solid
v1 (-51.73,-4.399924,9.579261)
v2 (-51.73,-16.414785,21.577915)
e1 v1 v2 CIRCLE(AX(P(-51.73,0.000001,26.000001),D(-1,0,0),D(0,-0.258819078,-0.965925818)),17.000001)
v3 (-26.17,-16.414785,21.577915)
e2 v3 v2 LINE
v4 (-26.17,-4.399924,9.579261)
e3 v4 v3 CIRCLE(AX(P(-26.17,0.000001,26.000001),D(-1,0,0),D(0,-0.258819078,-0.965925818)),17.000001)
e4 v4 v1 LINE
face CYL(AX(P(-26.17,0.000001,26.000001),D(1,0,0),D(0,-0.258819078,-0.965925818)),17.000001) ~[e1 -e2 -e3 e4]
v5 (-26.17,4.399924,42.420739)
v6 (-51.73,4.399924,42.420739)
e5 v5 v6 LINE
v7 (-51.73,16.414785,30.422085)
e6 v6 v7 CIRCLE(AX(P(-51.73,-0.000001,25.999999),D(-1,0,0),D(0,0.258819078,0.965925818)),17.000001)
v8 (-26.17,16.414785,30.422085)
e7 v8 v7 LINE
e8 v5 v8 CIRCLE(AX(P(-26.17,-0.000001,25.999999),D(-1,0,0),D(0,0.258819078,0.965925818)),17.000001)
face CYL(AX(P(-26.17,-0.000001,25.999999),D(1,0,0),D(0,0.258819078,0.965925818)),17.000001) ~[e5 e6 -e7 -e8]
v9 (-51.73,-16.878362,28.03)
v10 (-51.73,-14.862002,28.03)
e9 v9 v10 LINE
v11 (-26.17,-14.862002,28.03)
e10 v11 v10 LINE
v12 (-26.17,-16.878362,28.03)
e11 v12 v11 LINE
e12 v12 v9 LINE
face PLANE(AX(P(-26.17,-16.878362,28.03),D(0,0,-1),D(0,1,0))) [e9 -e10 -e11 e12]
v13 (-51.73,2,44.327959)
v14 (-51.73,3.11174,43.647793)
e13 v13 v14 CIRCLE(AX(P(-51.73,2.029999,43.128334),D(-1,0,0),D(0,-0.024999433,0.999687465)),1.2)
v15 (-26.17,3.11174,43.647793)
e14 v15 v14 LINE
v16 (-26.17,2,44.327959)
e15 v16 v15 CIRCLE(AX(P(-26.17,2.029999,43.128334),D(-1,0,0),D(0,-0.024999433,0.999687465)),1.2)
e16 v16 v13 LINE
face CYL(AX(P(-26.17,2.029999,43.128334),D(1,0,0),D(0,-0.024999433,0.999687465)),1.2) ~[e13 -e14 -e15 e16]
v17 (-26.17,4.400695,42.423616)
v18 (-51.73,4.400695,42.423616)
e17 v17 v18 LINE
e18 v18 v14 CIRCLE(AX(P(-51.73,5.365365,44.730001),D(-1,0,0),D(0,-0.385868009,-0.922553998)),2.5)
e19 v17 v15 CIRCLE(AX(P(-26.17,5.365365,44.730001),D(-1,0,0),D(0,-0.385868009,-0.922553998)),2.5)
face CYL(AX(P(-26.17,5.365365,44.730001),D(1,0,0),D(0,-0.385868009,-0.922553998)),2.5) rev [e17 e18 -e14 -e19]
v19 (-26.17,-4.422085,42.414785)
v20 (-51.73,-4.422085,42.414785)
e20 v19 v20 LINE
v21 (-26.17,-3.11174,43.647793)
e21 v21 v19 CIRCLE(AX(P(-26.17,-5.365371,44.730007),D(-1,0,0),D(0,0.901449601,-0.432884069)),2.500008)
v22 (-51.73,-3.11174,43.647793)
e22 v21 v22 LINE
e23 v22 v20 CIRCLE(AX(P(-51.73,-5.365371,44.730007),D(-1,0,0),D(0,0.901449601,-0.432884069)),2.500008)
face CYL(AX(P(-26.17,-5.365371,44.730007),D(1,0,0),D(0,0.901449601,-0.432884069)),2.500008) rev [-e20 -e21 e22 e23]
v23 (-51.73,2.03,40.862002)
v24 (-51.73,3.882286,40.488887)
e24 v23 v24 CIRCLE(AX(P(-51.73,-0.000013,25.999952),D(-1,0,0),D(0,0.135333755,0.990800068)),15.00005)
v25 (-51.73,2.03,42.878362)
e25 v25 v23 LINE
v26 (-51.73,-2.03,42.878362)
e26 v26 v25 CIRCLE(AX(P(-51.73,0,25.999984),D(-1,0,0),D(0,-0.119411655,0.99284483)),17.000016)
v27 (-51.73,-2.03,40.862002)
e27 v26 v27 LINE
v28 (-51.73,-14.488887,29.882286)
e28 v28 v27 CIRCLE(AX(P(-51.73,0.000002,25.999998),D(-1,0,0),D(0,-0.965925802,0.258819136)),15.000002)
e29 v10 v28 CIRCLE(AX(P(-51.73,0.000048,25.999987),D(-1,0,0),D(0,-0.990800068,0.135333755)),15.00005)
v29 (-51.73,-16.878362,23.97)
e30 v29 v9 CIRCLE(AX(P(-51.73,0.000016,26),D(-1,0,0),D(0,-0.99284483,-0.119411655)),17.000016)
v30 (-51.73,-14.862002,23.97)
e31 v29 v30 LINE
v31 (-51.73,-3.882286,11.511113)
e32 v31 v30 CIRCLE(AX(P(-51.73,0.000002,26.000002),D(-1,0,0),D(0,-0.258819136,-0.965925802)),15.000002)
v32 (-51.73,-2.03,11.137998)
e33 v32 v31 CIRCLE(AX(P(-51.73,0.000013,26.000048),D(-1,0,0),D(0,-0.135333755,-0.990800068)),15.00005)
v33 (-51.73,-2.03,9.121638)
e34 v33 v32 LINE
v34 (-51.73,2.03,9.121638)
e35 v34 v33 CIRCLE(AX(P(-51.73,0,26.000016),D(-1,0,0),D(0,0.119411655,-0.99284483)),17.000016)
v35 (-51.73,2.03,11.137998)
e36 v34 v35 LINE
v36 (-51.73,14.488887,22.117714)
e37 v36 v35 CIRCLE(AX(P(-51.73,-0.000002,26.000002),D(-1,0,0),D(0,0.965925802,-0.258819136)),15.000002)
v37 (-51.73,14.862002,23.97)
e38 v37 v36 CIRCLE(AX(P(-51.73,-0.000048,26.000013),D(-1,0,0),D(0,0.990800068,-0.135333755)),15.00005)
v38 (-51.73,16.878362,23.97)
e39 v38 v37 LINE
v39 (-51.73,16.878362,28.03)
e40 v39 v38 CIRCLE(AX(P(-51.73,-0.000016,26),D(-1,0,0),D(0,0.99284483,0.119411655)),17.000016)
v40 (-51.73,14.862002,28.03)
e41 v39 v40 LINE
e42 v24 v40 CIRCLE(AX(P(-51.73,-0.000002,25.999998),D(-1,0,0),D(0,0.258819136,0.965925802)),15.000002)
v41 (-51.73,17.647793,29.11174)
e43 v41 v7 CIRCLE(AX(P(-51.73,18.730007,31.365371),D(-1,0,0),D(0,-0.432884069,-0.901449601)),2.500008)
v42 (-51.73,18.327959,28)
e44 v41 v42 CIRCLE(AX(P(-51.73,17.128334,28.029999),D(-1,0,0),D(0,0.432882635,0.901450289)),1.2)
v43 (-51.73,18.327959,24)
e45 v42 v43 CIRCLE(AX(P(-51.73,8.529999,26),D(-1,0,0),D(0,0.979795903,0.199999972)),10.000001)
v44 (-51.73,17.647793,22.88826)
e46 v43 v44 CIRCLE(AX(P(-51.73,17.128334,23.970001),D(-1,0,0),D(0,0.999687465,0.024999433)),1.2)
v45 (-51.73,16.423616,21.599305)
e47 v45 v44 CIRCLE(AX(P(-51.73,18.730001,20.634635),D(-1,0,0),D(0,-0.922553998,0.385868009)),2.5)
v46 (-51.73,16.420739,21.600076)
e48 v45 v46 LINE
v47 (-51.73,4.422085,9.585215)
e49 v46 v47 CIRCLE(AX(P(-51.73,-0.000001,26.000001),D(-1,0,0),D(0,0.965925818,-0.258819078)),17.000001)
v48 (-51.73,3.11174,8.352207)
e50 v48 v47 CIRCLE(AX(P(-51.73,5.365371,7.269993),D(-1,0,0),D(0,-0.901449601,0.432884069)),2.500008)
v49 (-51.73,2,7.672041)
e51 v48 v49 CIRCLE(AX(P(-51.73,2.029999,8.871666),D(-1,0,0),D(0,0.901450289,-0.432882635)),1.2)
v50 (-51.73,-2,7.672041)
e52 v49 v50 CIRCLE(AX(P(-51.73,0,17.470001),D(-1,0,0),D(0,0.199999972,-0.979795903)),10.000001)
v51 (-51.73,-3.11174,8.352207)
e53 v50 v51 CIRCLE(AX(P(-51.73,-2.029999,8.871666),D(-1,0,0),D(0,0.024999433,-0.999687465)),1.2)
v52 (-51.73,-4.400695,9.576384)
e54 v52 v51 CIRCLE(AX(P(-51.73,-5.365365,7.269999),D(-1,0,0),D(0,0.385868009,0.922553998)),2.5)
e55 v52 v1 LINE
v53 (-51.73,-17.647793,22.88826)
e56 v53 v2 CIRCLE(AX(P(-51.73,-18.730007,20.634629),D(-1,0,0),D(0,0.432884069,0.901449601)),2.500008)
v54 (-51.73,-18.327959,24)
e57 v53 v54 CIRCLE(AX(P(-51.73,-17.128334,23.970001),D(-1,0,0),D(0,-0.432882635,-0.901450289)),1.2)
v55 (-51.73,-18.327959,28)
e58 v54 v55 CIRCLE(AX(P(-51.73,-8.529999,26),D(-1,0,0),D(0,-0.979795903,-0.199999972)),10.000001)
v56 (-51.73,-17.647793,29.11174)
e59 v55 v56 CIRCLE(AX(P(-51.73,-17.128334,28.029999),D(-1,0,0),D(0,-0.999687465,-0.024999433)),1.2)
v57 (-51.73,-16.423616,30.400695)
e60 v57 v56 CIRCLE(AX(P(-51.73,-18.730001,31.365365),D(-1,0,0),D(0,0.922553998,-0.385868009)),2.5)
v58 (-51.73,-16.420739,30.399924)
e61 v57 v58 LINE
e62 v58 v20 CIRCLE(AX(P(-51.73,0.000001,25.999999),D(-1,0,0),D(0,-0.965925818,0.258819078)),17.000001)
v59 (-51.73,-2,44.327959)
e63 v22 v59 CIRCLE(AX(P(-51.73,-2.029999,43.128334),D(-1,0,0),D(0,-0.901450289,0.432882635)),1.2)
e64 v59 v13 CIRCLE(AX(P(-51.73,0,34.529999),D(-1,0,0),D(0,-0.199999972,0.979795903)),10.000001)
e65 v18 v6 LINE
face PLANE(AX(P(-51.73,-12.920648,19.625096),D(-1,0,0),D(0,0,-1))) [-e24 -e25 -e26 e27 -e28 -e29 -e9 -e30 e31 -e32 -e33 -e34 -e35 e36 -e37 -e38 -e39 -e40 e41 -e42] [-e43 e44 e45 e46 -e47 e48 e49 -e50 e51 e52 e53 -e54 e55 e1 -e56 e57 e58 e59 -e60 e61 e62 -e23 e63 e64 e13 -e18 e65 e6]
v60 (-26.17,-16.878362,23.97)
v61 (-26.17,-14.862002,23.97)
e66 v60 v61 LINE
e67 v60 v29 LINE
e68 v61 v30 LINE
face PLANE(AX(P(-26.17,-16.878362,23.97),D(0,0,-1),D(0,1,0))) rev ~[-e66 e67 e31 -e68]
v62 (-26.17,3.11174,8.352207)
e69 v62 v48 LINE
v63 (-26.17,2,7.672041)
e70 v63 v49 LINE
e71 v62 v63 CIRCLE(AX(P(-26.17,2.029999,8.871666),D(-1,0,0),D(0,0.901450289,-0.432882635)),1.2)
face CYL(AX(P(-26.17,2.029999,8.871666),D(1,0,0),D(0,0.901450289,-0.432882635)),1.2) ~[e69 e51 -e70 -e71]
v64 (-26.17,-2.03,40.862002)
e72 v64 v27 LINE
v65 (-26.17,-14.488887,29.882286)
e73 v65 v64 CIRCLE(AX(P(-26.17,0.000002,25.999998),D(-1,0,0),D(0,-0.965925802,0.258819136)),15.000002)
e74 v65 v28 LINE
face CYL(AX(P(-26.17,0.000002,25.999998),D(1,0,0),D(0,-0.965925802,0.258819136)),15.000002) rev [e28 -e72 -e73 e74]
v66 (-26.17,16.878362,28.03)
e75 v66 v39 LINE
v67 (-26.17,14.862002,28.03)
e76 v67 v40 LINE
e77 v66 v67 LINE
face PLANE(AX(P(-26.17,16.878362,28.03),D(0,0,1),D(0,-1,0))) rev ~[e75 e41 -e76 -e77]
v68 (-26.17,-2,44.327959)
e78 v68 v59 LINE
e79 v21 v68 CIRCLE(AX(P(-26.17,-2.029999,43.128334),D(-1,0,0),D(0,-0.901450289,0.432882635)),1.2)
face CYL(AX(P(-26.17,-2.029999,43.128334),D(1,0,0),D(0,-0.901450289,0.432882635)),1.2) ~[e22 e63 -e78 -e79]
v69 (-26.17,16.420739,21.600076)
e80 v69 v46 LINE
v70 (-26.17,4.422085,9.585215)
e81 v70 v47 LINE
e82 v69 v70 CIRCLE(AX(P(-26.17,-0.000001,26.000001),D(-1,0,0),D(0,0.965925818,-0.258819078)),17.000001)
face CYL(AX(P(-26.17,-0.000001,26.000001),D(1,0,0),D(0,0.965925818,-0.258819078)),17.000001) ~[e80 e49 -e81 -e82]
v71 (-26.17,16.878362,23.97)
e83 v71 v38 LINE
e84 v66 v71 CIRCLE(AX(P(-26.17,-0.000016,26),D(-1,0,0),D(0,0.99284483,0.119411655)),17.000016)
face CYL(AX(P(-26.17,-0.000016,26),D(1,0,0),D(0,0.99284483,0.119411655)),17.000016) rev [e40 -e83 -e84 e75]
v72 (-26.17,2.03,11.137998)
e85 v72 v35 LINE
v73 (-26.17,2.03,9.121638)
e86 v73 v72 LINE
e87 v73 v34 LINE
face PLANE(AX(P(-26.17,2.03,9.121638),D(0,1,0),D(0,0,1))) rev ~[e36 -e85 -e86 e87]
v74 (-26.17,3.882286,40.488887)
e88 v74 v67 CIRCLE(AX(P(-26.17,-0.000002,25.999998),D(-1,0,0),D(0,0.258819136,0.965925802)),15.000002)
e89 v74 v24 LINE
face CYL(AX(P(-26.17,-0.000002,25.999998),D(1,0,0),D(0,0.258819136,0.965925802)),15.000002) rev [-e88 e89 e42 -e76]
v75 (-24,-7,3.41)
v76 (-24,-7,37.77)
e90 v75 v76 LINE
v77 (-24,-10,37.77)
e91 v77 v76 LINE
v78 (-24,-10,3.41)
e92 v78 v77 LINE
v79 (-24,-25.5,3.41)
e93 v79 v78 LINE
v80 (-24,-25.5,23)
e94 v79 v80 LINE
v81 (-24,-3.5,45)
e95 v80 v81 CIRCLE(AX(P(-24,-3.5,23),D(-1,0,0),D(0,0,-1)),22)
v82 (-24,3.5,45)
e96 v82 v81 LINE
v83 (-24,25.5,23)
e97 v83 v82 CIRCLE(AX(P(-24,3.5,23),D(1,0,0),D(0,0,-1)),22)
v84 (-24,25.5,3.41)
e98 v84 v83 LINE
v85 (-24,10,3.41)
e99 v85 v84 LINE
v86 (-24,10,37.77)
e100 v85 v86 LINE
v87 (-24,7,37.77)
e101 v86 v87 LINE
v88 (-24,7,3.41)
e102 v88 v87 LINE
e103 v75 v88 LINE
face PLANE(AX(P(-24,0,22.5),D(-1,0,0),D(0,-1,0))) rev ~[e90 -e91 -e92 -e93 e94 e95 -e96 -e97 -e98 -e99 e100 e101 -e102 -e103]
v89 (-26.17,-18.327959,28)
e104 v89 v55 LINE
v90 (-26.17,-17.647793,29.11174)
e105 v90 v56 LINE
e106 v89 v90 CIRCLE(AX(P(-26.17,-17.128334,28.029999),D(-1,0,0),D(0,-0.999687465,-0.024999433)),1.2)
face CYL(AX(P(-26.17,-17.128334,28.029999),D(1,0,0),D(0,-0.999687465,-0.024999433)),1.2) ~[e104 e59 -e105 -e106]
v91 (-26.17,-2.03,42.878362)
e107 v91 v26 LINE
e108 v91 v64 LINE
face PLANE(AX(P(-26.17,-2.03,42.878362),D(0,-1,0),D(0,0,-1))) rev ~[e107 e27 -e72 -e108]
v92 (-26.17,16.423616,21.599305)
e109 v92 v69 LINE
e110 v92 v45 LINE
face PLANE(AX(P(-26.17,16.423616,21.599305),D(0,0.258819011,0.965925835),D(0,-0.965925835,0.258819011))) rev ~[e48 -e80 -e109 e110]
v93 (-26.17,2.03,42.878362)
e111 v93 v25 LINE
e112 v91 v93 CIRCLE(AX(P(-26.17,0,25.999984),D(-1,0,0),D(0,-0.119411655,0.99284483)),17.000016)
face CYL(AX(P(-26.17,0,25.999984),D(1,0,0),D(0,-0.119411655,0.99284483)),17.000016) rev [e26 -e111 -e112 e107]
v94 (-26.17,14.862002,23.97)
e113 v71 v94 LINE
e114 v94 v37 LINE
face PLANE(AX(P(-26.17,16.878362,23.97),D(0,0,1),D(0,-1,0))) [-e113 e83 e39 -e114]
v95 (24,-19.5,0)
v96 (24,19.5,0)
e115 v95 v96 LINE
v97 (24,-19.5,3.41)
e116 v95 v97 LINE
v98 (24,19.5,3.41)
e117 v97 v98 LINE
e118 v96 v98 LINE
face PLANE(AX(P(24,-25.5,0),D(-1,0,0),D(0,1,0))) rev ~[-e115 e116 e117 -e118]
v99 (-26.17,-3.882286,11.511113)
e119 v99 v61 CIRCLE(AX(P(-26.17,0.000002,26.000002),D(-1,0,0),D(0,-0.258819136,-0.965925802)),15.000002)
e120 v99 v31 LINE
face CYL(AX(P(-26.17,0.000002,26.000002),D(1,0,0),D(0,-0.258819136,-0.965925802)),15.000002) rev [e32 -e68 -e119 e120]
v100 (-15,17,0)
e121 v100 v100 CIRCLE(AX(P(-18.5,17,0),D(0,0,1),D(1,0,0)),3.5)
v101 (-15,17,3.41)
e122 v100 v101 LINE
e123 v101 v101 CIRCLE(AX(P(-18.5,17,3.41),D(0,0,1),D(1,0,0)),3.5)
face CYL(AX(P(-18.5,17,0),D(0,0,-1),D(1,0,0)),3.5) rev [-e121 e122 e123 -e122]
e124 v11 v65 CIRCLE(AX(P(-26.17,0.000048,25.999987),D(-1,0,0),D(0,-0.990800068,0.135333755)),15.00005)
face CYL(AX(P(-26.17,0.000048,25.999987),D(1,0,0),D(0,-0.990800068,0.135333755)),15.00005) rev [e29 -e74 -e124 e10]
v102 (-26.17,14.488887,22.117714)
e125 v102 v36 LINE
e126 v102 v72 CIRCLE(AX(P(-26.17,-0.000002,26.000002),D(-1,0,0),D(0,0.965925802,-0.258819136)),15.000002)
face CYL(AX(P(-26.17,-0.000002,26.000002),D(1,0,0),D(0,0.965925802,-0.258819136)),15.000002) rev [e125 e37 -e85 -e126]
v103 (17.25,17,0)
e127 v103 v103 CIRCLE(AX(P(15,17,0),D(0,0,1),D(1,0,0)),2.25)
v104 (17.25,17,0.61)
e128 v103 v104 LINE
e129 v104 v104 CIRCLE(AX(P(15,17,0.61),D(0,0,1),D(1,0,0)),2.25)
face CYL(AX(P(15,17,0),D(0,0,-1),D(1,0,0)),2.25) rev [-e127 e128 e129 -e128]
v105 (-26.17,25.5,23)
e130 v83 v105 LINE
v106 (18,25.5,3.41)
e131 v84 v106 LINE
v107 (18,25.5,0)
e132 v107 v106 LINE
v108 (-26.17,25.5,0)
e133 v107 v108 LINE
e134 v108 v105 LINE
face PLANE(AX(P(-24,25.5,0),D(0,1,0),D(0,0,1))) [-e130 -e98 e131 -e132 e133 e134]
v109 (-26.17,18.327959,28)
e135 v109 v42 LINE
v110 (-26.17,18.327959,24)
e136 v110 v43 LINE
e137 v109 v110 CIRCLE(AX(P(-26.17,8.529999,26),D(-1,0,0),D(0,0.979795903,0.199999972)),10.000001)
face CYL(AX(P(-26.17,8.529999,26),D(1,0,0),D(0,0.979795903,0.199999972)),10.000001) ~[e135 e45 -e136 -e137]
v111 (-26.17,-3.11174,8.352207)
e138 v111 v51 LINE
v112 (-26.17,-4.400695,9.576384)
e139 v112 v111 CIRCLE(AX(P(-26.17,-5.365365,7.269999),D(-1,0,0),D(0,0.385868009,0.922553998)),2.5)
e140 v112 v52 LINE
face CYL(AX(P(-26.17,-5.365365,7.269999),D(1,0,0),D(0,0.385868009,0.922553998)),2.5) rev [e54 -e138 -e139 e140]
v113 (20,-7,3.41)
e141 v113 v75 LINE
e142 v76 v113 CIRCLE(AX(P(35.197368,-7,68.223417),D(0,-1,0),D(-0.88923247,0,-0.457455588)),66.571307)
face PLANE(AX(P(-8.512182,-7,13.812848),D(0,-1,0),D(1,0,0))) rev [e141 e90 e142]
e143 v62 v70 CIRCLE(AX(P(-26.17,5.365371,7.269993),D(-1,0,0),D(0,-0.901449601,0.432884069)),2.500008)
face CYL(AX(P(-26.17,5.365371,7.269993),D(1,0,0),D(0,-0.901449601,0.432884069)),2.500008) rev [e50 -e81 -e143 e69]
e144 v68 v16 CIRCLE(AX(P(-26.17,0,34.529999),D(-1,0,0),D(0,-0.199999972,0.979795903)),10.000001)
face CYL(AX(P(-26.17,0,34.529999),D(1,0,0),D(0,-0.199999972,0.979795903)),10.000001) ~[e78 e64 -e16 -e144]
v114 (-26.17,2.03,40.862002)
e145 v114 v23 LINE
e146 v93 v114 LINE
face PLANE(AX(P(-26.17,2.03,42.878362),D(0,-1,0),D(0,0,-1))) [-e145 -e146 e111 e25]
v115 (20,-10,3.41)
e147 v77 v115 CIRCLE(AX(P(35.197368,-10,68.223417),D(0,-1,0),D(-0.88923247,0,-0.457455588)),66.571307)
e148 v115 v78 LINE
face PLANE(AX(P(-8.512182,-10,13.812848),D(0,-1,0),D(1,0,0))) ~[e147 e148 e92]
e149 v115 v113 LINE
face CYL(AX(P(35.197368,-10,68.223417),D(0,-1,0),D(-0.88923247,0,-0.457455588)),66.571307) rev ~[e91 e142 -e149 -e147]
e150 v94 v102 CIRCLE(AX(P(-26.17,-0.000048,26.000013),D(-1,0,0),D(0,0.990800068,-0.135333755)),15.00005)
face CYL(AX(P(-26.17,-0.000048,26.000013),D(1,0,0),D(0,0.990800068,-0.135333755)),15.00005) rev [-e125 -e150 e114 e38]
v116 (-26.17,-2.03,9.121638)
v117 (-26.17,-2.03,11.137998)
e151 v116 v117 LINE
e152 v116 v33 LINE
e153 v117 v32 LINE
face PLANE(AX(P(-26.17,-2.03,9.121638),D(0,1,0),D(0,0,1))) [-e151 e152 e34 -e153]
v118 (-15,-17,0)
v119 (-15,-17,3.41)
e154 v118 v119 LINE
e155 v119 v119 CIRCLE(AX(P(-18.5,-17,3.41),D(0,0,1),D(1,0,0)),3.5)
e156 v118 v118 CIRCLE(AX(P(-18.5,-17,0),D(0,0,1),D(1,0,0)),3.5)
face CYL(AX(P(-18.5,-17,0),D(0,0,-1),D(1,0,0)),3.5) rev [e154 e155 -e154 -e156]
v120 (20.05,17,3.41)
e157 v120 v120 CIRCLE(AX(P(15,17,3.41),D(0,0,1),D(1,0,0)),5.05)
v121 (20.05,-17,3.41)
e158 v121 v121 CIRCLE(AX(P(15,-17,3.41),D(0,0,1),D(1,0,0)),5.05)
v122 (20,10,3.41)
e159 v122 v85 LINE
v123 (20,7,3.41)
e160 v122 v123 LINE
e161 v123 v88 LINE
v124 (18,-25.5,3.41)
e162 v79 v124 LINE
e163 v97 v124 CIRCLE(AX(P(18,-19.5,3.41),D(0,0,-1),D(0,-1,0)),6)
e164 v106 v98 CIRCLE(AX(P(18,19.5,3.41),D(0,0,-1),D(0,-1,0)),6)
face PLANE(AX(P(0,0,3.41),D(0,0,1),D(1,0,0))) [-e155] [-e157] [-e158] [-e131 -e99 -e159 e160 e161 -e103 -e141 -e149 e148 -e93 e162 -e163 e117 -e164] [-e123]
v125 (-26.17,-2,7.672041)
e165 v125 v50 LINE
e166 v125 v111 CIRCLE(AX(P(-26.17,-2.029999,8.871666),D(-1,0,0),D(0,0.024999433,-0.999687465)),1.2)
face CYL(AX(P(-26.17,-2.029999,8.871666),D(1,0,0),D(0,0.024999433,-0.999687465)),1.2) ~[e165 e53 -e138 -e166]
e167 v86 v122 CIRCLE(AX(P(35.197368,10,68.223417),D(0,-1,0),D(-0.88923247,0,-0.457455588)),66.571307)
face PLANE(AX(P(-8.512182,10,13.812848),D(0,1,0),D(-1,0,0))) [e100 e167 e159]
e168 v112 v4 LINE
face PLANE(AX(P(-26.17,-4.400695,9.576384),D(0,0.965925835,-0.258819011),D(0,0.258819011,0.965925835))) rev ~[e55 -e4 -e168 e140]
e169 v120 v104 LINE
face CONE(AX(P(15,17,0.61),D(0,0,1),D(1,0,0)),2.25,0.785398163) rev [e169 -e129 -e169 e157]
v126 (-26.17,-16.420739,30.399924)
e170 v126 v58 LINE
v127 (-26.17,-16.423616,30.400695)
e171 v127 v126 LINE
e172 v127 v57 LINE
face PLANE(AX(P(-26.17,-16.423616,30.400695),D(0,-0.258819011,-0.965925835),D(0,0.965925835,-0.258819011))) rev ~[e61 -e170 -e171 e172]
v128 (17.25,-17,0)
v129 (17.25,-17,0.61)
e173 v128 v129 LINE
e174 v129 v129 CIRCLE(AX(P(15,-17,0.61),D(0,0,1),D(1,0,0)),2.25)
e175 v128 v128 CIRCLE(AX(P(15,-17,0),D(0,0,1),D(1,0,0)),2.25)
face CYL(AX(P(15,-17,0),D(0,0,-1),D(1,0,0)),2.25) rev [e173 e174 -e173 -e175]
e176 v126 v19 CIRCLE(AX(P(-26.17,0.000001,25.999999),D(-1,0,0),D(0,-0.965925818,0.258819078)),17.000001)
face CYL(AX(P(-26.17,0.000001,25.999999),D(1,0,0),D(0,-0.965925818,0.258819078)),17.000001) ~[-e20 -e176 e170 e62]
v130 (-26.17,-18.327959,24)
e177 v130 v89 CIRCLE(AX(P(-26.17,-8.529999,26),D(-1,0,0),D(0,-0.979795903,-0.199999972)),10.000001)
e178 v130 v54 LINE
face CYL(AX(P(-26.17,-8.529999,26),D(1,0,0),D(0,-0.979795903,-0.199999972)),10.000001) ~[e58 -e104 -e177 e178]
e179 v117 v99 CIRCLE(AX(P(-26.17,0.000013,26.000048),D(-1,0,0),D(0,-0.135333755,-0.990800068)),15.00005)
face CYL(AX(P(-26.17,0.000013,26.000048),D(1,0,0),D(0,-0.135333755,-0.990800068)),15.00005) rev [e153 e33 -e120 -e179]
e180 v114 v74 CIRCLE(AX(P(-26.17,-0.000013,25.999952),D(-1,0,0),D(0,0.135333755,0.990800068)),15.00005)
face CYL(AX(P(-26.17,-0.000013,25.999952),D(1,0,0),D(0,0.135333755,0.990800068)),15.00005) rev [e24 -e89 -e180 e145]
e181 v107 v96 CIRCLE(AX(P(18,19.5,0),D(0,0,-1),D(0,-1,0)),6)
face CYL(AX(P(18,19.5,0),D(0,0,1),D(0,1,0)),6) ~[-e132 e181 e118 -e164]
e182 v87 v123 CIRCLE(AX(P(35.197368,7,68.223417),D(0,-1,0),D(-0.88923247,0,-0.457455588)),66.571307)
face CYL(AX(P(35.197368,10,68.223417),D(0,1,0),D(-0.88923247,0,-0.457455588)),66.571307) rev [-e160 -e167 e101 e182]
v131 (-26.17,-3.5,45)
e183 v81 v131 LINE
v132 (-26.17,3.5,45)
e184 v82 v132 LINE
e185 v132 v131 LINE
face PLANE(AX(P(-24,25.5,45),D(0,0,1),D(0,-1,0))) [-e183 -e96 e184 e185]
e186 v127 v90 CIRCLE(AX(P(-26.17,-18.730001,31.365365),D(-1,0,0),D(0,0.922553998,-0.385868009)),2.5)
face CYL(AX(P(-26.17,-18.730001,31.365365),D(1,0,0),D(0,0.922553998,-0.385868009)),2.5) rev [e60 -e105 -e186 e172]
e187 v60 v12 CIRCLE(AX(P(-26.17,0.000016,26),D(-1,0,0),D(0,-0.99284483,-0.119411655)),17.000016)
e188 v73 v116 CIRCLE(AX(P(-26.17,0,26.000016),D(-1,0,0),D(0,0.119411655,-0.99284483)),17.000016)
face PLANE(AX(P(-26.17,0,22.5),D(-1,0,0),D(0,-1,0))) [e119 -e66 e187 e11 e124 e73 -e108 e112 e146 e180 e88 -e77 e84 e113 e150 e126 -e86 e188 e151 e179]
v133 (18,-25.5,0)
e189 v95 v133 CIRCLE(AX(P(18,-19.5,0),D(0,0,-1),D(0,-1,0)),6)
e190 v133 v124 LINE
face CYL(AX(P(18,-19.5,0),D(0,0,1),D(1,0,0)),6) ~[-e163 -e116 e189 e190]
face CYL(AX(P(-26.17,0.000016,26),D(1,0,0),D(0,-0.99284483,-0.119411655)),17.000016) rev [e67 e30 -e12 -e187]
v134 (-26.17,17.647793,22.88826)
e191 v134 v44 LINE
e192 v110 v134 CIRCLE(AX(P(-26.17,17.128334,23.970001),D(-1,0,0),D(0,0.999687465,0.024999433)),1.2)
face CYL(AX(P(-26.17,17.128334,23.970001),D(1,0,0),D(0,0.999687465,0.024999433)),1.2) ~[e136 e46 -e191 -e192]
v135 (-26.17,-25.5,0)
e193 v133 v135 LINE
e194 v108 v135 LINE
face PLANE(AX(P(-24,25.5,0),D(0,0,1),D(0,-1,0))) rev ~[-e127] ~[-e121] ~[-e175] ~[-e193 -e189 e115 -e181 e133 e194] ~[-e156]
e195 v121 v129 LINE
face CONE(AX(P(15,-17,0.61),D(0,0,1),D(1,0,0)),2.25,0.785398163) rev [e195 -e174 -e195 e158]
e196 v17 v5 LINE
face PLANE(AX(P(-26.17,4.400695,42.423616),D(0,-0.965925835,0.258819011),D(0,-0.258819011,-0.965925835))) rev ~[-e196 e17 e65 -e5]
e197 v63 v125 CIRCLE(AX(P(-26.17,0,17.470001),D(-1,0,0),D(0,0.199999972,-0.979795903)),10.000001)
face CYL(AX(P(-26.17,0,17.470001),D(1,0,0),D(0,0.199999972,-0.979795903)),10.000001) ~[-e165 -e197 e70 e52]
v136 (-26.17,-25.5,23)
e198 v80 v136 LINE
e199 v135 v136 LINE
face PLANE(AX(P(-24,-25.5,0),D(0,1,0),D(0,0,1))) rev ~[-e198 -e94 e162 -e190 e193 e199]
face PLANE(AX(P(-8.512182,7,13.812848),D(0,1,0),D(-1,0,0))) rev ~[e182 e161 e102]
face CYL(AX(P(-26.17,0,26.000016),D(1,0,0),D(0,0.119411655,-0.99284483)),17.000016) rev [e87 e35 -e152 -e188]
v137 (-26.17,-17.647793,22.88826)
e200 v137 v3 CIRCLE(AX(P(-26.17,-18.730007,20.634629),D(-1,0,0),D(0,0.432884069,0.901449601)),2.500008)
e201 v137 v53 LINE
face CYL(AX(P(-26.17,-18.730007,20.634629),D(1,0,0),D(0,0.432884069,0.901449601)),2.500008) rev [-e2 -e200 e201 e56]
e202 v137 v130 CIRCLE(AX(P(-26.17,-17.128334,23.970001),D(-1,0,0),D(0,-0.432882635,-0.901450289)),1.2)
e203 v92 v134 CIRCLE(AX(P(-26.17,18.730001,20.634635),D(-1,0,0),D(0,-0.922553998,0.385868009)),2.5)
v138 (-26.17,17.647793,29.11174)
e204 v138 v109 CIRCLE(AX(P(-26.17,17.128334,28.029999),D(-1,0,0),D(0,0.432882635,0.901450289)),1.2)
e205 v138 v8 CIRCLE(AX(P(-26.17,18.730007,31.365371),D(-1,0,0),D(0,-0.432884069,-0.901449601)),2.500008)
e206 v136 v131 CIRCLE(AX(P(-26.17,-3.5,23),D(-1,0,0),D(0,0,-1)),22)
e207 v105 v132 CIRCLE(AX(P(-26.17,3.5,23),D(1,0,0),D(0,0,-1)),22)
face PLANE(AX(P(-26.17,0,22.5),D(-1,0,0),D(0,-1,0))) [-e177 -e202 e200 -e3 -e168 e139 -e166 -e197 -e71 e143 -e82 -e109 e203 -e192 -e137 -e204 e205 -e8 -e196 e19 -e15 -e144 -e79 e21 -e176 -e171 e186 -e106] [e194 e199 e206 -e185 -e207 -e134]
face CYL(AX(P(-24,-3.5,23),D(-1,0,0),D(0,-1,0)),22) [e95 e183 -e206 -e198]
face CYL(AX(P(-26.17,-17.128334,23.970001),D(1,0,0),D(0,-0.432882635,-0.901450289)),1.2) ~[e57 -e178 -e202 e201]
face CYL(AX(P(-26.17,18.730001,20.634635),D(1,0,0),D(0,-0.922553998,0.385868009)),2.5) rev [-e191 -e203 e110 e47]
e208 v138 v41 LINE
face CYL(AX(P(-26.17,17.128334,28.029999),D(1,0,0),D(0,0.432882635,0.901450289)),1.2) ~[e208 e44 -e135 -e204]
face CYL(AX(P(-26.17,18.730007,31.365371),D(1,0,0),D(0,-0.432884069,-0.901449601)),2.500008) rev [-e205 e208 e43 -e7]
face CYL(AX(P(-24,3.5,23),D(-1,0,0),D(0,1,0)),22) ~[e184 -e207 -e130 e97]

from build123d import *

# Parameters (mm, degrees)
SKETCH001_W        = 48
SKETCH001_H        = 51
SKETCH001_R        = 3.5
SKETCH001_R_2      = 2.25
PAD_DEPTH          = 3.41
SKETCH002_W        = 51
SKETCH002_H        = 45
PAD001_DEPTH       = 2.17
PAD002_DEPTH       = 25.56
POLARPATTERN_COUNT = 4
PAD003_DEPTH       = 3
CHAMFER_SIZE       = 2.8
FILLET_R           = 6
FILLET001_R        = 22


with BuildPart() as part:
    # Sketch001 → Pad (new body)
    with BuildSketch(Plane.XY):
        Rectangle(SKETCH001_W, SKETCH001_H)
        with Locations((-18.5, 17)):
            Circle(SKETCH001_R, mode=Mode.SUBTRACT)
        with Locations((15, 17)):
            Circle(SKETCH001_R_2, mode=Mode.SUBTRACT)
        with Locations((-18.5, -17)):
            Circle(SKETCH001_R, mode=Mode.SUBTRACT)
        with Locations((15, -17)):
            Circle(SKETCH001_R_2, mode=Mode.SUBTRACT)
    extrude(amount=PAD_DEPTH)

    # Sketch002 → Pad001 (join)
    with BuildSketch(Plane(origin=(-24, 0, 0), x_dir=(0, -1, 0), z_dir=(-1, 0, 0))):
        with Locations((0, 22.5)):
            Rectangle(SKETCH002_W, SKETCH002_H)
    extrude(amount=PAD001_DEPTH)

    # Sketch → Pad002 (join)
    with BuildSketch(Plane(origin=(-26.17, 0, 26), x_dir=(0, -1, 0), z_dir=(-1, 0, 0))):
        with BuildLine():
            ThreePointArc((16.420739, 4.399924), (12.028925, 12.0127), (4.422085, 16.414785))
            ThreePointArc((3.11174, 17.647793), (3.652144, 16.909322), (4.422085, 16.414785))
            ThreePointArc((3.11174, 17.647793), (2.656255, 18.151957), (2, 18.327959))
            ThreePointArc((2, 18.327959), (0, 18.53), (-2, 18.327959))
            ThreePointArc((-2, 18.327959), (-2.656255, 18.151957), (-3.11174, 17.647793))
            ThreePointArc((-4.400695, 16.423616), (-3.643735, 16.917271), (-3.11174, 17.647793))
            Line((-4.400695, 16.423616), (-3.882286, 14.488887))
            ThreePointArc((-2.03, 14.862002), (-2.962024, 14.704639), (-3.882286, 14.488887))
            Line((-2.03, 16.878362), (-2.03, 14.862002))
            ThreePointArc((2.03, 16.878362), (0, 17), (-2.03, 16.878362))
            Line((2.03, 16.878362), (2.03, 14.862002))
            ThreePointArc((14.488887, 3.882286), (9.917507, 11.253579), (2.03, 14.862002))
            Line((14.488887, 3.882286), (16.420739, 4.399924))
        make_face()
    pad002 = extrude(amount=PAD002_DEPTH)

    # PolarPattern: Pad002 ×4 about axis
    polarpattern_axis = Axis((-26.17, 0, 26), (-1, 0, 0))
    for i in range(1, POLARPATTERN_COUNT):
        add(pad002.rotate(polarpattern_axis, i * 360 / POLARPATTERN_COUNT))

    # Sketch003 → Pad003 (join)
    with BuildSketch(Plane.XZ.offset(-10)):
        with BuildLine():
            ThreePointArc((-24, 37.77), (-5.775752, 15.754927), (20, 3.41))
            Line((20, 3.41), (-24, 3.41))
            Line((-24, 3.41), (-24, 37.77))
        make_face()
    pad003 = extrude(amount=PAD003_DEPTH)

    # Mirrored: Pad003 across XZ
    add(pad003.mirror(Plane.XZ))

    # Chamfer
    chamfer_edges = [part.edges().sort_by_distance(p)[0] for p in [
        (12.75, 17, 3.41),
        (12.75, -17, 3.41),
    ]]
    chamfer(chamfer_edges, length=CHAMFER_SIZE)

    # Fillet
    fillet_edges = [part.edges().sort_by_distance(p)[0] for p in [
        (24, 25.5, 1.705),
        (24, -25.5, 1.705),
    ]]
    fillet(fillet_edges, radius=FILLET_R)

    # Fillet001
    fillet001_edges = [part.edges().sort_by_distance(p)[0] for p in [
        (-25.085, 25.5, 45),
        (-25.085, -25.5, 45),
    ]]
    fillet(fillet001_edges, radius=FILLET001_R)


solid = part.part
